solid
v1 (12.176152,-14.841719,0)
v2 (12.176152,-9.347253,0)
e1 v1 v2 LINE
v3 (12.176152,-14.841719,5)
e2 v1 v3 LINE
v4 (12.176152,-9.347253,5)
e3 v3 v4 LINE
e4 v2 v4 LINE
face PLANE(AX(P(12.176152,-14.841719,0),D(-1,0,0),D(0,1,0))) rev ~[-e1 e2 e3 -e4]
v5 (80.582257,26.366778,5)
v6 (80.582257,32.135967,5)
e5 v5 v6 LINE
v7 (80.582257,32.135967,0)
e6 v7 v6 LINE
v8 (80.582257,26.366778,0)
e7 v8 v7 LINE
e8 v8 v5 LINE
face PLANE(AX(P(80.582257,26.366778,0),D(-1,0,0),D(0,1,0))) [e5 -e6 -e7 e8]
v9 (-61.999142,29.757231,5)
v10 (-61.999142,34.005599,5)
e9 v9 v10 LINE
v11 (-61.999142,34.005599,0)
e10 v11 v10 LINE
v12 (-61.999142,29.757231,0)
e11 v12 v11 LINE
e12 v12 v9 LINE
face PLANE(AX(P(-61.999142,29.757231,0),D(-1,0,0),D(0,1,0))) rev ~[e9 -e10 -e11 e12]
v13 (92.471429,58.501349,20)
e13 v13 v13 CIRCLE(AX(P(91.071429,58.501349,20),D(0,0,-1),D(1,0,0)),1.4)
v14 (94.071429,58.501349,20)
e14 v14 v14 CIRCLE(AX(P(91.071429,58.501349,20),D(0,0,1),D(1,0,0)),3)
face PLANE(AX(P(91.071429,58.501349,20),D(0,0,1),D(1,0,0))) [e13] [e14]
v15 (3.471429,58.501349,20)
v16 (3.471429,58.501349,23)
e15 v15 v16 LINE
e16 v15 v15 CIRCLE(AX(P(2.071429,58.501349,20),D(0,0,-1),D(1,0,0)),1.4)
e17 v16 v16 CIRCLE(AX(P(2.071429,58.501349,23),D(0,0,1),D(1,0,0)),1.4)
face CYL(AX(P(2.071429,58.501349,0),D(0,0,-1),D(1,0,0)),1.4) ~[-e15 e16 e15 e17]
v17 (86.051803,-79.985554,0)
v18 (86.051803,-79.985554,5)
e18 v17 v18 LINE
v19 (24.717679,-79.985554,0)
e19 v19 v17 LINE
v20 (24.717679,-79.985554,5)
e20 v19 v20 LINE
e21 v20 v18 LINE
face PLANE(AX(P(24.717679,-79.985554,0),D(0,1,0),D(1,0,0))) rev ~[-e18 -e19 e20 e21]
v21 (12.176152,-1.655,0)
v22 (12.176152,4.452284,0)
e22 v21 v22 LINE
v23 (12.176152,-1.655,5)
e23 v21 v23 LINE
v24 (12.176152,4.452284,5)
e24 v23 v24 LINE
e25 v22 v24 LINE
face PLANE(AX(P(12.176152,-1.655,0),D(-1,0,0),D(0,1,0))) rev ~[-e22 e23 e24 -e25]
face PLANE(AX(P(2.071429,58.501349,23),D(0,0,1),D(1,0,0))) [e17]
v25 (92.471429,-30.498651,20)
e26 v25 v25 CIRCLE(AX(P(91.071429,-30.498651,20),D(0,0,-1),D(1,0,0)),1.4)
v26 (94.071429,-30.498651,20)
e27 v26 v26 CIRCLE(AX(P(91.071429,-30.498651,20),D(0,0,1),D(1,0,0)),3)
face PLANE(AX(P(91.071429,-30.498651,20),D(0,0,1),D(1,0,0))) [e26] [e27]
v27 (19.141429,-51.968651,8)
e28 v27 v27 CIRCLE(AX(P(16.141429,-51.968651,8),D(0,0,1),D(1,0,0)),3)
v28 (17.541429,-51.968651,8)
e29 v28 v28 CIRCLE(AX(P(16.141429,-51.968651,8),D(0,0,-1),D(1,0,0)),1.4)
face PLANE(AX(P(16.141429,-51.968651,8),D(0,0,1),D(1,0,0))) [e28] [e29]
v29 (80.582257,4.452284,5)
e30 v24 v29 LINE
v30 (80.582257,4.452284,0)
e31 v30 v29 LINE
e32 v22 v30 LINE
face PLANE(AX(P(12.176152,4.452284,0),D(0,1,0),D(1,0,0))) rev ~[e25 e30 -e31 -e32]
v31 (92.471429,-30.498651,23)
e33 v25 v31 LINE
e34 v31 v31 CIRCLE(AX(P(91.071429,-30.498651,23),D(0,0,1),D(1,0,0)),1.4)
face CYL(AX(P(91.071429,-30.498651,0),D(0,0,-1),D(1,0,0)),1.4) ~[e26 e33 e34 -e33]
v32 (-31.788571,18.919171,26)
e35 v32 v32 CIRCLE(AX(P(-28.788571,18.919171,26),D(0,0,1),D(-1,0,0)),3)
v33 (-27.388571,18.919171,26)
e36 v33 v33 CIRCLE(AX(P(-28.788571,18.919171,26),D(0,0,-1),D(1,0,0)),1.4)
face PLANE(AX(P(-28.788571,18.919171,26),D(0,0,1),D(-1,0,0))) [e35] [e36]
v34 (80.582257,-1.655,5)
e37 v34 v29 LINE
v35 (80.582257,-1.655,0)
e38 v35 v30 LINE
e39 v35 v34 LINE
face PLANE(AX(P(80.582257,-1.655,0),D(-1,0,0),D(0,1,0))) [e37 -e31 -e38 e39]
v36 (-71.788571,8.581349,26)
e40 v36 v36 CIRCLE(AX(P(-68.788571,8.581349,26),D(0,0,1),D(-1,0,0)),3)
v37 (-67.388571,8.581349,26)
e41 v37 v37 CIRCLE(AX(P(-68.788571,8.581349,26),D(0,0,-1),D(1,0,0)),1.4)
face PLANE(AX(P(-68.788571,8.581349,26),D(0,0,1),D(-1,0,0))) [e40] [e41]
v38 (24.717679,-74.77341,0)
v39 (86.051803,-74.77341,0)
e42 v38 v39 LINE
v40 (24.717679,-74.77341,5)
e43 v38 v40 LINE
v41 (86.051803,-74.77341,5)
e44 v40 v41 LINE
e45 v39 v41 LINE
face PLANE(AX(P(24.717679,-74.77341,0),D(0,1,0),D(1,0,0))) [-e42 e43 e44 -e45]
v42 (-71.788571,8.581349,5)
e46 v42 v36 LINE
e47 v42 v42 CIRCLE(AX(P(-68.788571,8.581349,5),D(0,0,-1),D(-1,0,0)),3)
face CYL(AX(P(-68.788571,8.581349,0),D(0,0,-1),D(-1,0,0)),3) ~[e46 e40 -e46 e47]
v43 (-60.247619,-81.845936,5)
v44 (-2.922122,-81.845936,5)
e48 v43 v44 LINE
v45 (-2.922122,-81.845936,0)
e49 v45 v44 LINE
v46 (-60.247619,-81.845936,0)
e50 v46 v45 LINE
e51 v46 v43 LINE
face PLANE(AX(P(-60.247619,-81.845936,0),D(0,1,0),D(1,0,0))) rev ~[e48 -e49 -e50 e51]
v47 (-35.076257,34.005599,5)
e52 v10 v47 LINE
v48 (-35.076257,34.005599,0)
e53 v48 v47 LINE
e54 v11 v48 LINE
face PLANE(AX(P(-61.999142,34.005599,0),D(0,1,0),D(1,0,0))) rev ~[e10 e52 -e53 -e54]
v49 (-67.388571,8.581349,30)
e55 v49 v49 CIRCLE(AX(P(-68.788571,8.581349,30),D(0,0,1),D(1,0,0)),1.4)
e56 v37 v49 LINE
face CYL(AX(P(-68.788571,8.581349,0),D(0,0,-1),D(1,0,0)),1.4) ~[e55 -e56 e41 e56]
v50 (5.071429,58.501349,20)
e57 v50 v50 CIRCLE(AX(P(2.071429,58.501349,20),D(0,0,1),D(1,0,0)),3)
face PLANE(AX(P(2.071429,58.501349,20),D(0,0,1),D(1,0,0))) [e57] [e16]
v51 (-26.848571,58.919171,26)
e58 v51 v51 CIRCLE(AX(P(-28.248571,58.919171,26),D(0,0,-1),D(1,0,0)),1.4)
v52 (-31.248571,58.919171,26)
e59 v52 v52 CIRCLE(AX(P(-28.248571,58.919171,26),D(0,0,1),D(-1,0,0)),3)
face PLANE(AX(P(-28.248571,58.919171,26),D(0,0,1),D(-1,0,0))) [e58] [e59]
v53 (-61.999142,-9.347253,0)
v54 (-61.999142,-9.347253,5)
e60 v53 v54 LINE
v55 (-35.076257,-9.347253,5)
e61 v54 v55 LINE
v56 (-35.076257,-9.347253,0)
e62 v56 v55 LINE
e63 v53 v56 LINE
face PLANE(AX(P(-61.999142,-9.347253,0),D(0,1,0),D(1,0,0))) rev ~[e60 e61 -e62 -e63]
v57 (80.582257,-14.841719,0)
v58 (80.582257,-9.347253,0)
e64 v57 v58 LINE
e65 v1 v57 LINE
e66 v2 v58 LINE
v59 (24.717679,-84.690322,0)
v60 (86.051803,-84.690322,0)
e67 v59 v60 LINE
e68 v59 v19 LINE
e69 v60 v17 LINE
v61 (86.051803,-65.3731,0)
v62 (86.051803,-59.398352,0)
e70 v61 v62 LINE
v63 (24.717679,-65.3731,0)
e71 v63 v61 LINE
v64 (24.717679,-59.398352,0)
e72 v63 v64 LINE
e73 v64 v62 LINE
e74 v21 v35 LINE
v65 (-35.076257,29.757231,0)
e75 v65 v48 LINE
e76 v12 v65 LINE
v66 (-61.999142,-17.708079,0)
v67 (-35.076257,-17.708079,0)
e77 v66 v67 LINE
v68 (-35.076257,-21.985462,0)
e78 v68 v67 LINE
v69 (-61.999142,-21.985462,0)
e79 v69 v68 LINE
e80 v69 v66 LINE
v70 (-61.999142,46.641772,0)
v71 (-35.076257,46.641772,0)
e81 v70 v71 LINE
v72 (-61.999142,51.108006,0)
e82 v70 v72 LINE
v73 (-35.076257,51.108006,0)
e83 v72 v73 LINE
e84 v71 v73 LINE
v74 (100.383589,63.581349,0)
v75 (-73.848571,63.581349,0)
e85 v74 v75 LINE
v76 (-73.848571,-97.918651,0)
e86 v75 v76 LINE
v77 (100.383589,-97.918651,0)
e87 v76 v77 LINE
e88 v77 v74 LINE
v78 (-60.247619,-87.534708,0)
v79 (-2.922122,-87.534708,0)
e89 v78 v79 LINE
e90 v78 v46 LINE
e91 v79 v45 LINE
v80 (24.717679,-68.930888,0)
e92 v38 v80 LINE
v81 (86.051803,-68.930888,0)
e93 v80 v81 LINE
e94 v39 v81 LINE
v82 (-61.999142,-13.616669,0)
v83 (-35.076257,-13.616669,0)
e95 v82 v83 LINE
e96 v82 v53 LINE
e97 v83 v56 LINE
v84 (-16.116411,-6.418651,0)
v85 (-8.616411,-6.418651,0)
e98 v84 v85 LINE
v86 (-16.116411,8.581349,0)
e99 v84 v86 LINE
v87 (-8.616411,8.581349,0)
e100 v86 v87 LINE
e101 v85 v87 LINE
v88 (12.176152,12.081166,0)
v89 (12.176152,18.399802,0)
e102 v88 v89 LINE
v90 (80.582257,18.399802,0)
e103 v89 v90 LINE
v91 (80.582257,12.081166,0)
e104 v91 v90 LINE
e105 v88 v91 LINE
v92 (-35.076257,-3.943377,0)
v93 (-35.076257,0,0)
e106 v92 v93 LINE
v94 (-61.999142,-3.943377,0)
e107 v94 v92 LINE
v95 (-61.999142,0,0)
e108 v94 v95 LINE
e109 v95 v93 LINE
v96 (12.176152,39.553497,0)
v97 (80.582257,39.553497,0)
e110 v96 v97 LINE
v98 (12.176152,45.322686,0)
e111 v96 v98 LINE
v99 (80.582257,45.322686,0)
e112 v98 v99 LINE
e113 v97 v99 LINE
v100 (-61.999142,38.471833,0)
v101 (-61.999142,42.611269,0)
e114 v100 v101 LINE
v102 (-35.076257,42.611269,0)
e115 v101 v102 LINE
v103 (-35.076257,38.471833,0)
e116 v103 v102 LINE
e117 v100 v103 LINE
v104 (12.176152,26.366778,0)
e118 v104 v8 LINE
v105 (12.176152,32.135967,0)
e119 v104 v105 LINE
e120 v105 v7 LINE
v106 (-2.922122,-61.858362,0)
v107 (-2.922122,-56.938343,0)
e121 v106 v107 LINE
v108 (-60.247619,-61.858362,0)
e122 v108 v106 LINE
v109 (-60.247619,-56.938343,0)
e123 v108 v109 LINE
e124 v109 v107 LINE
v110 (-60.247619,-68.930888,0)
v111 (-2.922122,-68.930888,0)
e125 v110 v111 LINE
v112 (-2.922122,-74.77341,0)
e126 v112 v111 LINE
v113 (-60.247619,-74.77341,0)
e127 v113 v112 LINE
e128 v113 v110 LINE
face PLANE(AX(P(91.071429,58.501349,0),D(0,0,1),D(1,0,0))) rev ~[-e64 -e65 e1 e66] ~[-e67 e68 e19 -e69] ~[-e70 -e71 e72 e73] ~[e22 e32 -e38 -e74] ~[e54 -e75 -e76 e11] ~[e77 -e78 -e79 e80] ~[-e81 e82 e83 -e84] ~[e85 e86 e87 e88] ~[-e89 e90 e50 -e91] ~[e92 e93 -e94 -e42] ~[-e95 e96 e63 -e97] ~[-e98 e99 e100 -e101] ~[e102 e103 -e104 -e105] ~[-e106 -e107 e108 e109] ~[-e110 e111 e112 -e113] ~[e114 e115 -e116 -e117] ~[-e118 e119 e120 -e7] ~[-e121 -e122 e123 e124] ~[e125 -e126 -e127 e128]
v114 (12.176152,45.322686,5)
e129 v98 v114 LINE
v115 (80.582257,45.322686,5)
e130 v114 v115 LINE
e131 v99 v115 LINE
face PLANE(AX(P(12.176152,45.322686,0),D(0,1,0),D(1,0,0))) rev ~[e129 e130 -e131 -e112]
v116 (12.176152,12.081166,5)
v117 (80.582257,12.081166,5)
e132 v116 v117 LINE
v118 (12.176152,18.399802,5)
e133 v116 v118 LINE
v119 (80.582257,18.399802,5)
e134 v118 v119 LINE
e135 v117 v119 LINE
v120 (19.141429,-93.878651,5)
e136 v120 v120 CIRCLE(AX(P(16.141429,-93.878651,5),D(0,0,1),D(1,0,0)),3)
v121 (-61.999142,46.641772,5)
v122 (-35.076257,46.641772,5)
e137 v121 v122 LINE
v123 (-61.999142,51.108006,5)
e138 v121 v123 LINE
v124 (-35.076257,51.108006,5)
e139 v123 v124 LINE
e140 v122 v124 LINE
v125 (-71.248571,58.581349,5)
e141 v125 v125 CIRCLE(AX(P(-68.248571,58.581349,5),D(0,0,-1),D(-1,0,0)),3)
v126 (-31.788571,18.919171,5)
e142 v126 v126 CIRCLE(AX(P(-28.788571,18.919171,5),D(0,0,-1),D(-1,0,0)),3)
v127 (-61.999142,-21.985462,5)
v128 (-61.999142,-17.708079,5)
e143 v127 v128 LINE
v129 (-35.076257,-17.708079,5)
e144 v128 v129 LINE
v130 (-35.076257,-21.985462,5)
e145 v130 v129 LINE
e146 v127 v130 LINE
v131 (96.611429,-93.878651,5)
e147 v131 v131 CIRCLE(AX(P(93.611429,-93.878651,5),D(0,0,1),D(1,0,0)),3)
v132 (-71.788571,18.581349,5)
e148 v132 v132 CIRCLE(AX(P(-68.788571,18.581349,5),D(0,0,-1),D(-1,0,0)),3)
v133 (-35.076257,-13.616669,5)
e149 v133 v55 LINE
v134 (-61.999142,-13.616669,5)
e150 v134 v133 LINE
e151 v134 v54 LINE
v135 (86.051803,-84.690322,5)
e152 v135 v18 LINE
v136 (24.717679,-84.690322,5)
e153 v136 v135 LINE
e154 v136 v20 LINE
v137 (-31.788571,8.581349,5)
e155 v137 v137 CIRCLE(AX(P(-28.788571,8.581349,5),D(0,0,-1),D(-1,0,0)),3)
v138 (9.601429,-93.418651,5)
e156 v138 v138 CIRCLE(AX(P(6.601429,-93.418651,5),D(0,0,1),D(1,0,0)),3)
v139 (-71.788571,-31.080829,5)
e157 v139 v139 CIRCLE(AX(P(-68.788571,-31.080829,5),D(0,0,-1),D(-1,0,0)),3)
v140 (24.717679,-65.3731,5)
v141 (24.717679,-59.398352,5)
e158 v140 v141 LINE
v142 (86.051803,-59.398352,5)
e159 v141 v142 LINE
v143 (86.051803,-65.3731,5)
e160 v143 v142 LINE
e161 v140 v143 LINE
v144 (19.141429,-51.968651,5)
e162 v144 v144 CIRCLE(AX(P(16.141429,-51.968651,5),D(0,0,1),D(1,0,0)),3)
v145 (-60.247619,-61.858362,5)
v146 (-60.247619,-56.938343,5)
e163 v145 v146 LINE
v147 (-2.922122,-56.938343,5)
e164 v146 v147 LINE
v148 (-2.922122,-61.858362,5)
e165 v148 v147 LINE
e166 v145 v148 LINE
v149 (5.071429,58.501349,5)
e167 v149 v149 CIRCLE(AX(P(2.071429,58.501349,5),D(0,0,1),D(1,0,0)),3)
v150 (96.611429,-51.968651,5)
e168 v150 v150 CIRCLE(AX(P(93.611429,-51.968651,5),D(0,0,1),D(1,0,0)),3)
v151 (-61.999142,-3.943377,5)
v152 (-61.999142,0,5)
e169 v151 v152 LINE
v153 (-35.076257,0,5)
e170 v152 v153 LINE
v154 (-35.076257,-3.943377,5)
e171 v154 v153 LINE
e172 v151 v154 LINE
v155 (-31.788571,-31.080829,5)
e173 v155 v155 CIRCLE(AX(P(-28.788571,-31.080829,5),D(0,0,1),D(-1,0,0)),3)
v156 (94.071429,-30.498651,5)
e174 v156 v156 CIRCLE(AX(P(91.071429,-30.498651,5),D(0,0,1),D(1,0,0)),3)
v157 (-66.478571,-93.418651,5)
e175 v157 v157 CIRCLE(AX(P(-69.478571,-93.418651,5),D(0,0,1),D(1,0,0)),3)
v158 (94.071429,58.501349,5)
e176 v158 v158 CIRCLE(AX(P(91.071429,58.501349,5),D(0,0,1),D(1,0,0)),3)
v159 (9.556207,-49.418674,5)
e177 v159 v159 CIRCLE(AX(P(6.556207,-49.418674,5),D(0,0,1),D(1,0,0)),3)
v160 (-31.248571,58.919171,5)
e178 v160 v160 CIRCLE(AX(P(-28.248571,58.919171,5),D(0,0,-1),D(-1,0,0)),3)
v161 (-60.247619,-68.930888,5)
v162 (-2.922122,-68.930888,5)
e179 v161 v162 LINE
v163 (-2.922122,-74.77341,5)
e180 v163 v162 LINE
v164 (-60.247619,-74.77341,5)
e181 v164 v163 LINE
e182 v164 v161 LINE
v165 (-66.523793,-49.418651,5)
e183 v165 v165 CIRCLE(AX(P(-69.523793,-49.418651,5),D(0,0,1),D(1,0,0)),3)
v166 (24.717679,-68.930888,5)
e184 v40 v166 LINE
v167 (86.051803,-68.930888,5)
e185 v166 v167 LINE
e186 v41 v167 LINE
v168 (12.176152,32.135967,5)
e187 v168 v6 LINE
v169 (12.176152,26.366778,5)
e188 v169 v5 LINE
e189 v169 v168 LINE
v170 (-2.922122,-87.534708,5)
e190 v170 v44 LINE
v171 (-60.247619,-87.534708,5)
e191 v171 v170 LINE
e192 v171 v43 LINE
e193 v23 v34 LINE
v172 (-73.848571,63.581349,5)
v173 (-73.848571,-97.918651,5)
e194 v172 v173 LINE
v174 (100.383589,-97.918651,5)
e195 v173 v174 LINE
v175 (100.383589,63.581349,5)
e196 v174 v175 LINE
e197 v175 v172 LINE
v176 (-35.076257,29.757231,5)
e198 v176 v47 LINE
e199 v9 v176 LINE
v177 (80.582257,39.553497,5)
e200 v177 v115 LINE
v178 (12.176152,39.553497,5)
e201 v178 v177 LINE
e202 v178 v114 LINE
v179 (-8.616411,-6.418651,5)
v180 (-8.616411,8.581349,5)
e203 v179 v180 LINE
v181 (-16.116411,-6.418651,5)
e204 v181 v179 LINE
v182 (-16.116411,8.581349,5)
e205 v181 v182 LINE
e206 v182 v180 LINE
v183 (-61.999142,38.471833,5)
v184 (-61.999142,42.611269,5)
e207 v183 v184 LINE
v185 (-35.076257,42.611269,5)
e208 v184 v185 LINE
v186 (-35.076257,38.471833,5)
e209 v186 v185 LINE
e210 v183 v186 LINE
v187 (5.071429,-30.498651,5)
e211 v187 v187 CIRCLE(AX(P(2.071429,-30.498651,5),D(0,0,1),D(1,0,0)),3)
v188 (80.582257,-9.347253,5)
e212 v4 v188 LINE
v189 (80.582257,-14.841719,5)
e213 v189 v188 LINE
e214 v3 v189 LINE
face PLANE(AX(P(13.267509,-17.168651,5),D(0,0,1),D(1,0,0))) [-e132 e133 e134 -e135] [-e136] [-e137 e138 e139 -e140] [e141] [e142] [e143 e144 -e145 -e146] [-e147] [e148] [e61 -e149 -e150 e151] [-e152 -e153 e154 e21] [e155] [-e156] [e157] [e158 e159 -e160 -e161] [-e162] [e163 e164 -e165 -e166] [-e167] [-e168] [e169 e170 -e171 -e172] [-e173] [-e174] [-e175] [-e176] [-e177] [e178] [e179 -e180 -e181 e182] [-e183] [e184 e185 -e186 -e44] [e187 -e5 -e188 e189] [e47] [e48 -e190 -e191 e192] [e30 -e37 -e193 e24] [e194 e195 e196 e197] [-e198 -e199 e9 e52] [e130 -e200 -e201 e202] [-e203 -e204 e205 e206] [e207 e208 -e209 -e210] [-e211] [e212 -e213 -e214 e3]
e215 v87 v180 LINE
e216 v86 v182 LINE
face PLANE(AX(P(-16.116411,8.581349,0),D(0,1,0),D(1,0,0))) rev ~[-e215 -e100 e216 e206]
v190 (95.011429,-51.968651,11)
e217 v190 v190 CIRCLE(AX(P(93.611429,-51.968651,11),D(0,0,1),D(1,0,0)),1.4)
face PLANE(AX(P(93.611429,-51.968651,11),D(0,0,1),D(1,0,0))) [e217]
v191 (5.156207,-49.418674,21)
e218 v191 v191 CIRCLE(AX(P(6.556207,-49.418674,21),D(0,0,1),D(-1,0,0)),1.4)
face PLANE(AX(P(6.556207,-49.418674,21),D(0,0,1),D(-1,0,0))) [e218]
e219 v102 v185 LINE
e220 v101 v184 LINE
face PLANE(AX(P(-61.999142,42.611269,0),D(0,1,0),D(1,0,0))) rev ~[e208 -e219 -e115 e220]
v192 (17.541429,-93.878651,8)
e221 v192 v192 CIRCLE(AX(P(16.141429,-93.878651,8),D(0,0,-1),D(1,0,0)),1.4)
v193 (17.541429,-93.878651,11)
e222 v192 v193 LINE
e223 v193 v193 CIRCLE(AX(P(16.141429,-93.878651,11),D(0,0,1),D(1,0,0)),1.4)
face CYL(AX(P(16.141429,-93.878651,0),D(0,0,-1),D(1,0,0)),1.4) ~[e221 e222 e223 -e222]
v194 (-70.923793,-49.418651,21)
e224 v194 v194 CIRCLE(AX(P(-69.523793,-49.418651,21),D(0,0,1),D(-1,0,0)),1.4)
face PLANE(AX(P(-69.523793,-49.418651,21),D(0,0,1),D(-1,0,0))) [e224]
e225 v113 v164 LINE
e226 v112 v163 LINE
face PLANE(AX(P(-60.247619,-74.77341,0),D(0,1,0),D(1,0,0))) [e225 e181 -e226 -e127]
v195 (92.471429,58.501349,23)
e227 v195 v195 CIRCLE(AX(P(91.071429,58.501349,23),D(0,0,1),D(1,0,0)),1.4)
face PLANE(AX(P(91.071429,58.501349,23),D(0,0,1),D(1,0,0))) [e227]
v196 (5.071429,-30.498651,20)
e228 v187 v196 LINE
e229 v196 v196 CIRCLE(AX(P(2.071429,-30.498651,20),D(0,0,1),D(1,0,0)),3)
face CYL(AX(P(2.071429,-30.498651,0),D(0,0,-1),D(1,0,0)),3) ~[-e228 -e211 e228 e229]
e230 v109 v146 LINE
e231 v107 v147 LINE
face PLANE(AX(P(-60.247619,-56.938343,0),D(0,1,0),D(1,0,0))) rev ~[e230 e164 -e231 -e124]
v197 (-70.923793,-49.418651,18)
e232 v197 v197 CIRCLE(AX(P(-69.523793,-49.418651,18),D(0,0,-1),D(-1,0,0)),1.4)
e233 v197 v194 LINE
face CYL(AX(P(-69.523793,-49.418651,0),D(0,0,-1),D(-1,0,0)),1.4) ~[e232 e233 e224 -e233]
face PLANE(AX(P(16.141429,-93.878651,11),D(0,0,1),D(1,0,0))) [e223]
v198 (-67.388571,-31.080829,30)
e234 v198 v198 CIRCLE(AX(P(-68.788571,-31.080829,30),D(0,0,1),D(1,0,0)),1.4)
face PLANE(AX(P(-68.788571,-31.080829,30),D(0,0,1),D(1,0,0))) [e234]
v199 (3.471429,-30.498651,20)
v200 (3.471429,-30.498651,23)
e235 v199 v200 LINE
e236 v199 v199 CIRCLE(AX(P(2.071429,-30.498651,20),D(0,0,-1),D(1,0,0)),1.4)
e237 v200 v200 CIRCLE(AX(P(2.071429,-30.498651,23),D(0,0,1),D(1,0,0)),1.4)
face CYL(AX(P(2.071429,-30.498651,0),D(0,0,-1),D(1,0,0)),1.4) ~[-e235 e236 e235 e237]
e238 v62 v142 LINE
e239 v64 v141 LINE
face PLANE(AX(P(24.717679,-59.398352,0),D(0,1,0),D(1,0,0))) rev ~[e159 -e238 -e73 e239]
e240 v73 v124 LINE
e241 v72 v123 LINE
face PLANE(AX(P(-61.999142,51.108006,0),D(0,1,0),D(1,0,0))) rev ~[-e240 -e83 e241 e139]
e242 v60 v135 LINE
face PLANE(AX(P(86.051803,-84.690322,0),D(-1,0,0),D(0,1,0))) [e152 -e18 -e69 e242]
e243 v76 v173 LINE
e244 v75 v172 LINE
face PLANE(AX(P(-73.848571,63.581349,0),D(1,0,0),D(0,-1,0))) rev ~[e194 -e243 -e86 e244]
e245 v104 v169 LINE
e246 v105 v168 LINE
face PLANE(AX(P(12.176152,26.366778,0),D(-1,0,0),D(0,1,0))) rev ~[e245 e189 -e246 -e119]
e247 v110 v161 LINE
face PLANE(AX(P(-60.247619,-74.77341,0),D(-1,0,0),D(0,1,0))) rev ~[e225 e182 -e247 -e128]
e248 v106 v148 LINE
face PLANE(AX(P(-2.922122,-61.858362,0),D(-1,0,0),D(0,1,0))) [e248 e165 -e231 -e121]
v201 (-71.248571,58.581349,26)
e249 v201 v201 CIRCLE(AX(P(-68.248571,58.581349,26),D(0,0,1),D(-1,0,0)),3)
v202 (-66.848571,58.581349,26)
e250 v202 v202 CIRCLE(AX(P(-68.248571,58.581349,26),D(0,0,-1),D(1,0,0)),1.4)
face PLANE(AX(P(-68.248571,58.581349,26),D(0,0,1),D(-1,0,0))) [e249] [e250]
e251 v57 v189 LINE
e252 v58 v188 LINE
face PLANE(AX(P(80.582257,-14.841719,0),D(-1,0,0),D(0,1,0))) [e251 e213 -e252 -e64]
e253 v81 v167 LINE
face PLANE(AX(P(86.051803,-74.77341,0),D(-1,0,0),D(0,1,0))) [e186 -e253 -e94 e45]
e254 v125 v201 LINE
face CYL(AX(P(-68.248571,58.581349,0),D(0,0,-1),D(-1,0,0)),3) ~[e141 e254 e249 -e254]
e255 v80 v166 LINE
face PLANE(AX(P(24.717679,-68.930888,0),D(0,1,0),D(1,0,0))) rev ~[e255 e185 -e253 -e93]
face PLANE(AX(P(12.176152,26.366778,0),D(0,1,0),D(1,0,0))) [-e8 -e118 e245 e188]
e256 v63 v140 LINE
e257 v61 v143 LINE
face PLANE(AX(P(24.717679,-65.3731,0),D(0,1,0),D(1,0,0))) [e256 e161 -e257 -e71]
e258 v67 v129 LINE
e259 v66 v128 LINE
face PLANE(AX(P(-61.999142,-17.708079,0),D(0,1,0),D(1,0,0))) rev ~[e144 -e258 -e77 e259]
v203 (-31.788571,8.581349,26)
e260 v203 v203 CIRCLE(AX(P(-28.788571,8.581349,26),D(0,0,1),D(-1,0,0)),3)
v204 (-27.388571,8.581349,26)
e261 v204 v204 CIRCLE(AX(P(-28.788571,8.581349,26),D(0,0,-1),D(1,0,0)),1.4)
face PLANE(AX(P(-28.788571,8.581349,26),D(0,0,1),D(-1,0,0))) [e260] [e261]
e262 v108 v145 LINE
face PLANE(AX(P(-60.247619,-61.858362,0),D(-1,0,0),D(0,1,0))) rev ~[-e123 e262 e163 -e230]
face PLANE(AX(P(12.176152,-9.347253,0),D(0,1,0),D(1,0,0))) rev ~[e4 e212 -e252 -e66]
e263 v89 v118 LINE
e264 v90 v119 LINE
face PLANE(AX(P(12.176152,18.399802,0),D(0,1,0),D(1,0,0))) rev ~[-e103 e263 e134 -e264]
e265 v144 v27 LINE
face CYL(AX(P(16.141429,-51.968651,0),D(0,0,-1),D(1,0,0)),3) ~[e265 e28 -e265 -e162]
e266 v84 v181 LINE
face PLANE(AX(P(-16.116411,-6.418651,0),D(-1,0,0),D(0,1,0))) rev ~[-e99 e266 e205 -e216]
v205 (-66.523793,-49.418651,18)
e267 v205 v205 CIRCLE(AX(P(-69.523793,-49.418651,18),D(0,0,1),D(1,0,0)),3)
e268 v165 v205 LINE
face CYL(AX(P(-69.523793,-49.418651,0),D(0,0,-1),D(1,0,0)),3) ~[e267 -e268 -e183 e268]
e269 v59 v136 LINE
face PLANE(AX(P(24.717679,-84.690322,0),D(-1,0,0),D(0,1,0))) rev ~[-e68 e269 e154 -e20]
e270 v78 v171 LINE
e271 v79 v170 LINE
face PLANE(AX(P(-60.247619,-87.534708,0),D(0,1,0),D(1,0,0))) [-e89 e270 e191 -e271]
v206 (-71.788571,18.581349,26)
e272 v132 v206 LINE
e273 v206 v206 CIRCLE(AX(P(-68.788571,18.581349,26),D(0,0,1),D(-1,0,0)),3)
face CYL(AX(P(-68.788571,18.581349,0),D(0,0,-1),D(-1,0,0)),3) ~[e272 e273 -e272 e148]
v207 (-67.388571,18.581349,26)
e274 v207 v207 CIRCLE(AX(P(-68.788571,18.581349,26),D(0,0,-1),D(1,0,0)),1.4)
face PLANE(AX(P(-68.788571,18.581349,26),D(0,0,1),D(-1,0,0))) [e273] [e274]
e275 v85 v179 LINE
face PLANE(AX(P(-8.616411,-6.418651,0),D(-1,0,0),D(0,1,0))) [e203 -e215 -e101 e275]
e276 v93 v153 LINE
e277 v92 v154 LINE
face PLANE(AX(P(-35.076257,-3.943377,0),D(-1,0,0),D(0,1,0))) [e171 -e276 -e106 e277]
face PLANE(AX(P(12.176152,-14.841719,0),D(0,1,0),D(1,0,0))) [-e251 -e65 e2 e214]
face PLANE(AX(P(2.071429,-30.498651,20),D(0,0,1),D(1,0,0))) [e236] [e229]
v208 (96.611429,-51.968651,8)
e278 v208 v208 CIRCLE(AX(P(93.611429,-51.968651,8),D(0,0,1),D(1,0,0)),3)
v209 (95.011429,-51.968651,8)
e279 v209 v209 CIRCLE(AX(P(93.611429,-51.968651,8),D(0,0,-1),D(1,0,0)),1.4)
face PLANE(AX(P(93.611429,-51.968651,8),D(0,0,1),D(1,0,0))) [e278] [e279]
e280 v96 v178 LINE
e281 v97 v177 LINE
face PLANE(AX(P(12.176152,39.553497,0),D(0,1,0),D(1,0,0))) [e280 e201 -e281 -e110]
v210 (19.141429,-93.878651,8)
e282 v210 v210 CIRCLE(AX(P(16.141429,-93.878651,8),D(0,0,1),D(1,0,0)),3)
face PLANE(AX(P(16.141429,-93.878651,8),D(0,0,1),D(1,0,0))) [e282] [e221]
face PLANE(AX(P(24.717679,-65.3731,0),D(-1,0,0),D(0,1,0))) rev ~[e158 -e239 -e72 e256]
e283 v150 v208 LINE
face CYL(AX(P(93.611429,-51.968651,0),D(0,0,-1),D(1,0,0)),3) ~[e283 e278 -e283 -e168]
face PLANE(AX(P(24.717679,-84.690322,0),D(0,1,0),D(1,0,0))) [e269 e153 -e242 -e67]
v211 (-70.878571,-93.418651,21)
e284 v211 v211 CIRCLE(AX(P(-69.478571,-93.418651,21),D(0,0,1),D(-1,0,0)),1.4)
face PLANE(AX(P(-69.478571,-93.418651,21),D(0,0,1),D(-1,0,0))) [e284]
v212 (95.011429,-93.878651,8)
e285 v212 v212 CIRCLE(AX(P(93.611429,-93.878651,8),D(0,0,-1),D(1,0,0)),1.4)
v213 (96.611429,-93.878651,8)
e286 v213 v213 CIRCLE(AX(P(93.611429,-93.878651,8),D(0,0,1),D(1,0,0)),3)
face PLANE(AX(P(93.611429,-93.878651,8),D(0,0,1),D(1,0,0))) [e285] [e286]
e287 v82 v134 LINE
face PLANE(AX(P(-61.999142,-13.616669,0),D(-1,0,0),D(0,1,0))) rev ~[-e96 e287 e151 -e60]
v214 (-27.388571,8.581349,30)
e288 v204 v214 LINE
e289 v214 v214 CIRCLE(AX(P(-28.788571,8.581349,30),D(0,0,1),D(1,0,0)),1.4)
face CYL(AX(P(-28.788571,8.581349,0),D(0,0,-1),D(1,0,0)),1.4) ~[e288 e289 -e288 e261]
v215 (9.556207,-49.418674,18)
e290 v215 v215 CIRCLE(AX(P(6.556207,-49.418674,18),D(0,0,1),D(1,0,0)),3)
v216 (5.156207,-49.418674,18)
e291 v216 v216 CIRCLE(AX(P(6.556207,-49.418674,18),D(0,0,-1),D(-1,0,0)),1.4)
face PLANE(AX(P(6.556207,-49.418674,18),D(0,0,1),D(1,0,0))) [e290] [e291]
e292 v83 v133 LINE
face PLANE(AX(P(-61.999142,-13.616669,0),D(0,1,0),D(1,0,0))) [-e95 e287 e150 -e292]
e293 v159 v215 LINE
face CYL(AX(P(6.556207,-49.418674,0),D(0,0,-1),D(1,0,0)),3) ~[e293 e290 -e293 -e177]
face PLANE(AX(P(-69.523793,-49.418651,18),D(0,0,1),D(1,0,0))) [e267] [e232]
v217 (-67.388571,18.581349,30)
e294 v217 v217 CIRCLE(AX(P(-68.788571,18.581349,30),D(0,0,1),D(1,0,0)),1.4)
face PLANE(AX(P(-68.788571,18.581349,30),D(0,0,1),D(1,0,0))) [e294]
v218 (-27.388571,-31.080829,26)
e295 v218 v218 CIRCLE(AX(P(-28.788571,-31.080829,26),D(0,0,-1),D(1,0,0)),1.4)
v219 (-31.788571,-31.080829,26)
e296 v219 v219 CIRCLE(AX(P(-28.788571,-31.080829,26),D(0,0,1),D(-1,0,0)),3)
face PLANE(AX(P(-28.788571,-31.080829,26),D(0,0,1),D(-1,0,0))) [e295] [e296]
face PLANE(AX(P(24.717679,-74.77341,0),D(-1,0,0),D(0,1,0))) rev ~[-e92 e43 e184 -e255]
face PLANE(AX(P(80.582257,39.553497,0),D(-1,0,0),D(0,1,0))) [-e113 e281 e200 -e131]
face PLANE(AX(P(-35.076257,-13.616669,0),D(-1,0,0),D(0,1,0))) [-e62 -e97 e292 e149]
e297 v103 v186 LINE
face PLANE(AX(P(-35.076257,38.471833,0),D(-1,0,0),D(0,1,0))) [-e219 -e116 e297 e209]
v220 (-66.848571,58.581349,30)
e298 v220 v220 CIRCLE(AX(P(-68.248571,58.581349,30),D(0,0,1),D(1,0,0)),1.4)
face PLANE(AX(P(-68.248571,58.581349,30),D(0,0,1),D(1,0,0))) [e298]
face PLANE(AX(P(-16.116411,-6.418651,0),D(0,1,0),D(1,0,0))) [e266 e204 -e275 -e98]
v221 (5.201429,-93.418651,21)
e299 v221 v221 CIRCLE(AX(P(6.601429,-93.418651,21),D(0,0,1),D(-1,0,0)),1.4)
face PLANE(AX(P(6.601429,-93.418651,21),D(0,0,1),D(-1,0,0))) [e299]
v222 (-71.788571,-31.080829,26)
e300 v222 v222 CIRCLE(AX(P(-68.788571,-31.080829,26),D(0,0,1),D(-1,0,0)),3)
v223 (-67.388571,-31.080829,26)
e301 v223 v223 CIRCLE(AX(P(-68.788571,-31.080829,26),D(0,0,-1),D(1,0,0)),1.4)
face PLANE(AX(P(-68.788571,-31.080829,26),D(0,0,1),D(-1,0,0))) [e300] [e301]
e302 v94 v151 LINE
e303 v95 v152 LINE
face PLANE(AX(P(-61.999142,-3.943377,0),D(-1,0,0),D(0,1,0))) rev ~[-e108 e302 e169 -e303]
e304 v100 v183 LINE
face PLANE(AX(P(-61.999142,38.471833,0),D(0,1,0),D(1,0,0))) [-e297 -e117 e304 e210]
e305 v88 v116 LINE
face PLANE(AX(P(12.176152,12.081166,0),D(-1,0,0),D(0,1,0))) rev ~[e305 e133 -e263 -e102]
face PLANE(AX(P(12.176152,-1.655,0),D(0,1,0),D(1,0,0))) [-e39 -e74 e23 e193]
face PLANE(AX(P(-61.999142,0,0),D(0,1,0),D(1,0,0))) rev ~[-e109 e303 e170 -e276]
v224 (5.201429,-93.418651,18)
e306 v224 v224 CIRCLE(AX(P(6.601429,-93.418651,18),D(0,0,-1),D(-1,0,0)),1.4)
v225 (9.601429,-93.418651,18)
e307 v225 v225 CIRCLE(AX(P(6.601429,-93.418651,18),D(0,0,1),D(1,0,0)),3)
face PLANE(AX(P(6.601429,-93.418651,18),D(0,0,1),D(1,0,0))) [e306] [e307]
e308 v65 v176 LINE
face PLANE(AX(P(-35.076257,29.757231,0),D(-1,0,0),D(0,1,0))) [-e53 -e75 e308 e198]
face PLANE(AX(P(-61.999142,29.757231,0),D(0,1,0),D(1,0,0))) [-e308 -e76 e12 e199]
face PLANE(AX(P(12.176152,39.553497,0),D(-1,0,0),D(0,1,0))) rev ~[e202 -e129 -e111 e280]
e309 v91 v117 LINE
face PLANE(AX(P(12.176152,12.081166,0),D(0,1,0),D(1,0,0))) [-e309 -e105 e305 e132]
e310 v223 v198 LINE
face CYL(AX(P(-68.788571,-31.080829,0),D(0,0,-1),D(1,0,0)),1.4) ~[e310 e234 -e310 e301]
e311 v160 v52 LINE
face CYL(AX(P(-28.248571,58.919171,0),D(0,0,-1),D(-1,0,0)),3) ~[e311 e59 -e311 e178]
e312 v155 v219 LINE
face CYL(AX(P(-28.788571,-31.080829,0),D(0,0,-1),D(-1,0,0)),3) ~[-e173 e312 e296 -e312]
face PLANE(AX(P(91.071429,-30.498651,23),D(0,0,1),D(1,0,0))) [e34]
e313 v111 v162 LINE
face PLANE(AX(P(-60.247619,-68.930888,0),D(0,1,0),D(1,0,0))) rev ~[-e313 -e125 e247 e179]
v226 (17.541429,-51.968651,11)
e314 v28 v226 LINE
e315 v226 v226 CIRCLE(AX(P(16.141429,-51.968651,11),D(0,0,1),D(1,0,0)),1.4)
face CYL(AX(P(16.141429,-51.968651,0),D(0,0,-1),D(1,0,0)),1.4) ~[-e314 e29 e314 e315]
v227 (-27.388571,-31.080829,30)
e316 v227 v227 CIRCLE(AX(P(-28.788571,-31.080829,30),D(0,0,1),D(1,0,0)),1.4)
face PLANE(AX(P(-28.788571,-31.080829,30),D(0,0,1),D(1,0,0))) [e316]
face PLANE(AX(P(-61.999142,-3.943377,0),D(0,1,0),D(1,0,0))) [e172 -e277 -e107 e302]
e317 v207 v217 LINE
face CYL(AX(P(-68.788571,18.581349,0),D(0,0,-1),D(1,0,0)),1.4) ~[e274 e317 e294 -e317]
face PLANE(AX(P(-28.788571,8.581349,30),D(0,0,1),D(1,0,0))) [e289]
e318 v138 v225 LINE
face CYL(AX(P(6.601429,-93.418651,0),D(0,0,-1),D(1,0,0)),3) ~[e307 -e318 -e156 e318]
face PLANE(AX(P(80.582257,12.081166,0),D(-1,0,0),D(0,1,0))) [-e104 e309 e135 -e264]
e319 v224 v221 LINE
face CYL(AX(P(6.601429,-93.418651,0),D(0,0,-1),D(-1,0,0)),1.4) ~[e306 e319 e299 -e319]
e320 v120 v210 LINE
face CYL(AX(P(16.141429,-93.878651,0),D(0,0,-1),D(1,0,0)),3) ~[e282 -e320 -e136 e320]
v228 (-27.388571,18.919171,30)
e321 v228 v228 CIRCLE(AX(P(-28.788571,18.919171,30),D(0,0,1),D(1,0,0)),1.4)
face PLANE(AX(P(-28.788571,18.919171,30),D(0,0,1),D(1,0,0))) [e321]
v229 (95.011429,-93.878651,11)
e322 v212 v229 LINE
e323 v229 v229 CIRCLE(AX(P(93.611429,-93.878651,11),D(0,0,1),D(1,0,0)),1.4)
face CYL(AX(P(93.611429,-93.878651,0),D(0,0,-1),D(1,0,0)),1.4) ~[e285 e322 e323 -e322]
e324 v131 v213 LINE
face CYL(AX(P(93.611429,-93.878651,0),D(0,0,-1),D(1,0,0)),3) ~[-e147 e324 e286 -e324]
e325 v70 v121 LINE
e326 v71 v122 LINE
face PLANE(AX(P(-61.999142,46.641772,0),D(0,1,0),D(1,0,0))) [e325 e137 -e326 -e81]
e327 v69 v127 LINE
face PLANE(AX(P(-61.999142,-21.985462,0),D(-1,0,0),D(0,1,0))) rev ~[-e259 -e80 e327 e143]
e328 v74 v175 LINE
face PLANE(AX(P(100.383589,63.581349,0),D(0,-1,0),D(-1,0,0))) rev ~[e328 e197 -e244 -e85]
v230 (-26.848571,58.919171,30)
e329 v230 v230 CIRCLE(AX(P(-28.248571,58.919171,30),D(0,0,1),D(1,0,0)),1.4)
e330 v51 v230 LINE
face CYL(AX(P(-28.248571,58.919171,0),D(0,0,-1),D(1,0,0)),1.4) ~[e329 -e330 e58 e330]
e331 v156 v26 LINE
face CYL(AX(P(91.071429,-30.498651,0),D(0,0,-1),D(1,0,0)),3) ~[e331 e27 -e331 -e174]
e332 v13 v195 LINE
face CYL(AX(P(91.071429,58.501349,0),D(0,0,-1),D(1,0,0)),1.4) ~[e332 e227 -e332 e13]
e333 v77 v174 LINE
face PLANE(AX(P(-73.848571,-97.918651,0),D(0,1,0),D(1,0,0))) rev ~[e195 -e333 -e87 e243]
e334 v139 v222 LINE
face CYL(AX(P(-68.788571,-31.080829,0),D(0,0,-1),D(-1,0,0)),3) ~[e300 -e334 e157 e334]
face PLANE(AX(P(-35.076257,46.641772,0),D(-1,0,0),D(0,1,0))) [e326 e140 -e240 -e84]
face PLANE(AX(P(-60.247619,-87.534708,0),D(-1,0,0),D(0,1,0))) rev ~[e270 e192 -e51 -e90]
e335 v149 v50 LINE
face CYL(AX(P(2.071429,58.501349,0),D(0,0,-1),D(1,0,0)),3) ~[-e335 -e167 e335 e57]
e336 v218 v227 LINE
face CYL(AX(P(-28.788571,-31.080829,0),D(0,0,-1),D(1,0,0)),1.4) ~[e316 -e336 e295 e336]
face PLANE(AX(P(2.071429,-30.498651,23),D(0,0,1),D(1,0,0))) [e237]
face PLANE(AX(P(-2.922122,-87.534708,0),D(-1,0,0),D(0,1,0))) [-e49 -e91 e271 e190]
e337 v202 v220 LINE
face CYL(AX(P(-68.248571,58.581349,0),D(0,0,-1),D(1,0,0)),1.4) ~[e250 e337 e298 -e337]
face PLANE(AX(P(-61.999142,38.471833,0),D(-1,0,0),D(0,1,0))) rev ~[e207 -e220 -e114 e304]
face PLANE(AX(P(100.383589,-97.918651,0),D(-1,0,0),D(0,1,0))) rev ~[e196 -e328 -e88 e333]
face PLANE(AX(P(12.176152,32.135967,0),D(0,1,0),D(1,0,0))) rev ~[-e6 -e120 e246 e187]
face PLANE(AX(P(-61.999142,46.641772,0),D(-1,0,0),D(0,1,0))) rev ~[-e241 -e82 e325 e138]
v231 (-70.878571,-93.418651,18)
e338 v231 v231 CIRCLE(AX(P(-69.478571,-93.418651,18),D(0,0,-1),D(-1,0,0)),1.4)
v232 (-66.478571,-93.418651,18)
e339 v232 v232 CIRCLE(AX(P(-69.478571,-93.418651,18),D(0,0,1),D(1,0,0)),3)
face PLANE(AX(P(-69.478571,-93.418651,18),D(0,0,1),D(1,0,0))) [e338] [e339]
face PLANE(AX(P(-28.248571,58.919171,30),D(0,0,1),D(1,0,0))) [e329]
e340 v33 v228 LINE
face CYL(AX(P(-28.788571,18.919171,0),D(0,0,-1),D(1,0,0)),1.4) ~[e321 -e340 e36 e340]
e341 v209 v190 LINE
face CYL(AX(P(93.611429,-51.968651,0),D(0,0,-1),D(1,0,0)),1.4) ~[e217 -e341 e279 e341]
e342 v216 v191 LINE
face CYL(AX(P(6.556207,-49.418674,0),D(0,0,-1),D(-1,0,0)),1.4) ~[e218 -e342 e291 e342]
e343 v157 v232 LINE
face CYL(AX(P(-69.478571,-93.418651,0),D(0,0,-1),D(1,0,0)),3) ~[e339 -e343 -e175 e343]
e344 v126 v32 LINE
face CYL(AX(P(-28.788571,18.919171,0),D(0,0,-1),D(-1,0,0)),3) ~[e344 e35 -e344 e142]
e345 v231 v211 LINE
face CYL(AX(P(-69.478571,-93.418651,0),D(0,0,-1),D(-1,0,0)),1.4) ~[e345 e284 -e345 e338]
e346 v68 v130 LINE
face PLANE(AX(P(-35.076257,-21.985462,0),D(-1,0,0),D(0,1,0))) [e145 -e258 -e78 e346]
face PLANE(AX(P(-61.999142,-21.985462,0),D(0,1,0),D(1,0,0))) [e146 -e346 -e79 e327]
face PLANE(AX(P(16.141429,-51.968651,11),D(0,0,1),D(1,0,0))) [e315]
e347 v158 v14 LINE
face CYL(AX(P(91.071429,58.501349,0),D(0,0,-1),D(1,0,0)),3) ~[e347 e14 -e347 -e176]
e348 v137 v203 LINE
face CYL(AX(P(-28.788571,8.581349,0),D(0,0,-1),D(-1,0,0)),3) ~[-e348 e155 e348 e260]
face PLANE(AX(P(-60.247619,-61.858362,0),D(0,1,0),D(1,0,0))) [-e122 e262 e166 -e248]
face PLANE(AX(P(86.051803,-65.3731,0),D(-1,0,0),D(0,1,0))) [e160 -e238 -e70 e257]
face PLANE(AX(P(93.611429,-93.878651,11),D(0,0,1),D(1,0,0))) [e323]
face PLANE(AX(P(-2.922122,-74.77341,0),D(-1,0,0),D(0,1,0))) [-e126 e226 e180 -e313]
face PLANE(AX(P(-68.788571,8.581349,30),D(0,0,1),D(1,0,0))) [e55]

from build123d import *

# Parameters (mm, degrees)
SKETCH1_R            = 3
SKETCH1_W            = 57.32549759
SKETCH1_H            = 5.688771297
SKETCH1_H_2          = 5.842521873
SKETCH1_H_3          = 4.92001842
SKETCH1_W_2          = 26.922884564
SKETCH1_H_4          = 4.277382824
SKETCH1_W_3          = 61.334124095
SKETCH1_H_5          = 4.704767614
SKETCH1_H_6          = 5.974747368
SKETCH1_W_4          = 68.406104656
SKETCH1_H_7          = 5.494466237
SKETCH1_H_8          = 4.269416466
SKETCH1_H_9          = 3.943377121
SKETCH1_W_5          = 7.5
SKETCH1_H_10         = 15
SKETCH1_H_11         = 4.248368433
SKETCH1_H_12         = 4.139435909
SKETCH1_H_13         = 4.46623348
SKETCH1_H_14         = 6.107283804
SKETCH1_H_15         = 6.318636173
SKETCH1_H_16         = 5.769189549
SKETCH1_H_17         = 5.76918955
BOSS_EXTRUDE3_DEPTH  = 5
SKETCH1_6_R          = 3
BOSS_EXTRUDE4_DEPTH  = 26
SKETCH1_8_R          = 3
BOSS_EXTRUDE5_DEPTH  = 18
SKETCH1_10_R         = 3
BOSS_EXTRUDE6_DEPTH  = 8
SKETCH1_11_R         = 3
BOSS_EXTRUDE7_DEPTH  = 20
SKETCH1_12_R         = 1.4
BOSS_EXTRUDE8_DEPTH  = 30
SKETCH1_13_R         = 1.4
BOSS_EXTRUDE9_DEPTH  = 21
SKETCH1_15_R         = 1.4
BOSS_EXTRUDE10_DEPTH = 11
SKETCH1_16_R         = 1.4
BOSS_EXTRUDE11_DEPTH = 23


with BuildPart() as part:
    # Sketch1 → Boss-Extrude3 (new body)
    with BuildSketch(Plane.XY):
        Polygon((-20.116410516, 63.581349206), (-73.848571429, 63.581349206), (-73.848571429, -97.918650794), (100.383589484, -97.918650794), (100.383589484, -60.85880545), (100.383589484, -37.85880545), (100.383589484, 63.581349206), (2.883589484, 63.581349206), align=None)
        with Locations((-69.478571429, -93.418650794)):
            Circle(SKETCH1_R, mode=Mode.SUBTRACT)
        with Locations((-31.584870297, -84.690322091)):
            Rectangle(SKETCH1_W, SKETCH1_H, mode=Mode.SUBTRACT)
        with Locations((-31.584870297, -71.852149028)):
            Rectangle(SKETCH1_W, SKETCH1_H_2, mode=Mode.SUBTRACT)
        with Locations((-31.584870297, -59.398352403)):
            Rectangle(SKETCH1_W, SKETCH1_H_3, mode=Mode.SUBTRACT)
        with Locations((6.601428571, -93.418650794)):
            Circle(SKETCH1_R, mode=Mode.SUBTRACT)
        with Locations((16.141428571, -93.878650794)):
            Circle(SKETCH1_R, mode=Mode.SUBTRACT)
        with Locations((-69.523792896, -49.418650794)):
            Circle(SKETCH1_R, mode=Mode.SUBTRACT)
        with Locations((-68.788571429, -31.080828543)):
            Circle(SKETCH1_R, mode=Mode.SUBTRACT)
        with Locations((-28.788571429, -31.080828543)):
            Circle(SKETCH1_R, mode=Mode.SUBTRACT)
        with Locations((-48.537699589, -19.846770176)):
            Rectangle(SKETCH1_W_2, SKETCH1_H_4, mode=Mode.SUBTRACT)
        with Locations((6.556207104, -49.418674032)):
            Circle(SKETCH1_R, mode=Mode.SUBTRACT)
        with Locations((16.141428571, -51.968650794)):
            Circle(SKETCH1_R, mode=Mode.SUBTRACT)
        with Locations((2.071428571, -30.498650794)):
            Circle(SKETCH1_R, mode=Mode.SUBTRACT)
        with Locations((55.384741084, -82.337938284)):
            Rectangle(SKETCH1_W_3, SKETCH1_H_5, mode=Mode.SUBTRACT)
        with Locations((55.384741084, -71.852149028)):
            Rectangle(SKETCH1_W_3, SKETCH1_H_2, mode=Mode.SUBTRACT)
        with Locations((55.384741084, -62.385726087)):
            Rectangle(SKETCH1_W_3, SKETCH1_H_6, mode=Mode.SUBTRACT)
        with Locations((93.611428571, -93.878650794)):
            Circle(SKETCH1_R, mode=Mode.SUBTRACT)
        with Locations((46.379204663, -12.094485759)):
            Rectangle(SKETCH1_W_4, SKETCH1_H_7, mode=Mode.SUBTRACT)
        with Locations((93.611428571, -51.968650794)):
            Circle(SKETCH1_R, mode=Mode.SUBTRACT)
        with Locations((91.071428571, -30.498650794)):
            Circle(SKETCH1_R, mode=Mode.SUBTRACT)
        with Locations((-68.788571429, 8.581349206)):
            Circle(SKETCH1_R, mode=Mode.SUBTRACT)
        with Locations((-48.537699589, -11.481960873)):
            Rectangle(SKETCH1_W_2, SKETCH1_H_8, mode=Mode.SUBTRACT)
        with Locations((-48.537699589, -1.971688561)):
            Rectangle(SKETCH1_W_2, SKETCH1_H_9, mode=Mode.SUBTRACT)
        with Locations((-28.788571429, 8.581349206)):
            Circle(SKETCH1_R, mode=Mode.SUBTRACT)
        with Locations((-68.788571429, 18.581349206)):
            Circle(SKETCH1_R, mode=Mode.SUBTRACT)
        with Locations((-28.788571429, 18.91917133)):
            Circle(SKETCH1_R, mode=Mode.SUBTRACT)
        with Locations((-12.366410516, 1.081349206)):
            Rectangle(SKETCH1_W_5, SKETCH1_H_10, mode=Mode.SUBTRACT)
        with Locations((-48.537699589, 31.881415248)):
            Rectangle(SKETCH1_W_2, SKETCH1_H_11, mode=Mode.SUBTRACT)
        with Locations((-48.537699589, 40.541550899)):
            Rectangle(SKETCH1_W_2, SKETCH1_H_12, mode=Mode.SUBTRACT)
        with Locations((-48.537699589, 48.874888978)):
            Rectangle(SKETCH1_W_2, SKETCH1_H_13, mode=Mode.SUBTRACT)
        with Locations((-68.248571429, 58.581349206)):
            Circle(SKETCH1_R, mode=Mode.SUBTRACT)
        with Locations((-28.248571429, 58.91917133)):
            Circle(SKETCH1_R, mode=Mode.SUBTRACT)
        with Locations((2.071428571, 58.501349206)):
            Circle(SKETCH1_R, mode=Mode.SUBTRACT)
        with Locations((46.379204663, 1.398641994)):
            Rectangle(SKETCH1_W_4, SKETCH1_H_14, mode=Mode.SUBTRACT)
        with Locations((46.379204663, 15.240483772)):
            Rectangle(SKETCH1_W_4, SKETCH1_H_15, mode=Mode.SUBTRACT)
        with Locations((46.379204663, 29.251372679)):
            Rectangle(SKETCH1_W_4, SKETCH1_H_16, mode=Mode.SUBTRACT)
        with Locations((46.379204663, 42.438091648)):
            Rectangle(SKETCH1_W_4, SKETCH1_H_17, mode=Mode.SUBTRACT)
        with Locations((91.071428571, 58.501349206)):
            Circle(SKETCH1_R, mode=Mode.SUBTRACT)
    extrude(amount=BOSS_EXTRUDE3_DEPTH)

    # Sketch1<6> → Boss-Extrude4 (add)
    with BuildSketch(Plane.XY):
        with Locations((-28.788571429, -31.080828543)):
            Circle(SKETCH1_6_R)
        with Locations((-68.788571429, -31.080828543)):
            Circle(SKETCH1_6_R)
        with Locations((-68.788571429, 8.581349206)):
            Circle(SKETCH1_6_R)
        with Locations((-28.788571429, 8.581349206)):
            Circle(SKETCH1_6_R)
        with Locations((-28.788571429, 18.91917133)):
            Circle(SKETCH1_6_R)
        with Locations((-68.788571429, 18.581349206)):
            Circle(SKETCH1_6_R)
        with Locations((-68.248571429, 58.581349206)):
            Circle(SKETCH1_6_R)
        with Locations((-28.248571429, 58.91917133)):
            Circle(SKETCH1_6_R)
    extrude(amount=BOSS_EXTRUDE4_DEPTH)

    # Sketch1<8> → Boss-Extrude5 (add)
    with BuildSketch(Plane.XY):
        with Locations((6.601428571, -93.418650794)):
            Circle(SKETCH1_8_R)
        with Locations((6.556207104, -49.418674032)):
            Circle(SKETCH1_8_R)
        with Locations((-69.523792896, -49.418650794)):
            Circle(SKETCH1_8_R)
        with Locations((-69.478571429, -93.418650794)):
            Circle(SKETCH1_8_R)
    extrude(amount=BOSS_EXTRUDE5_DEPTH)

    # Sketch1<10> → Boss-Extrude6 (add)
    with BuildSketch(Plane.XY):
        with Locations((93.611428571, -93.878650794)):
            Circle(SKETCH1_10_R)
        with Locations((93.611428571, -51.968650794)):
            Circle(SKETCH1_10_R)
        with Locations((16.141428571, -51.968650794)):
            Circle(SKETCH1_10_R)
        with Locations((16.141428571, -93.878650794)):
            Circle(SKETCH1_10_R)
    extrude(amount=BOSS_EXTRUDE6_DEPTH)

    # Sketch1<11> → Boss-Extrude7 (add)
    with BuildSketch(Plane.XY):
        with Locations((91.071428571, 58.501349206)):
            Circle(SKETCH1_11_R)
        with Locations((2.071428571, 58.501349206)):
            Circle(SKETCH1_11_R)
        with Locations((2.071428571, -30.498650794)):
            Circle(SKETCH1_11_R)
        with Locations((91.071428571, -30.498650794)):
            Circle(SKETCH1_11_R)
    extrude(amount=BOSS_EXTRUDE7_DEPTH)

    # Sketch1<12> → Boss-Extrude8 (add)
    with BuildSketch(Plane.XY):
        with Locations((-28.788571429, -31.080828543)):
            Circle(SKETCH1_12_R)
        with Locations((-68.788571429, -31.080828543)):
            Circle(SKETCH1_12_R)
        with Locations((-68.788571429, 8.581349206)):
            Circle(SKETCH1_12_R)
        with Locations((-68.788571429, 18.581349206)):
            Circle(SKETCH1_12_R)
        with Locations((-28.788571429, 18.91917133)):
            Circle(SKETCH1_12_R)
        with Locations((-68.248571429, 58.581349206)):
            Circle(SKETCH1_12_R)
        with Locations((-28.248571429, 58.91917133)):
            Circle(SKETCH1_12_R)
        with Locations((-28.788571429, 8.581349206)):
            Circle(SKETCH1_12_R)
    extrude(amount=BOSS_EXTRUDE8_DEPTH)

    # Sketch1<13> → Boss-Extrude9 (add)
    with BuildSketch(Plane.XY):
        with Locations((6.556207104, -49.418674032)):
            Circle(SKETCH1_13_R)
        with Locations((6.601428571, -93.418650794)):
            Circle(SKETCH1_13_R)
        with Locations((-69.523792896, -49.418650794)):
            Circle(SKETCH1_13_R)
        with Locations((-69.478571429, -93.418650794)):
            Circle(SKETCH1_13_R)
    extrude(amount=BOSS_EXTRUDE9_DEPTH)

    # Sketch1<15> → Boss-Extrude10 (add)
    with BuildSketch(Plane.XY):
        with Locations((93.611428571, -51.968650794)):
            Circle(SKETCH1_15_R)
        with Locations((93.611428571, -93.878650794)):
            Circle(SKETCH1_15_R)
        with Locations((16.141428571, -93.878650794)):
            Circle(SKETCH1_15_R)
        with Locations((16.141428571, -51.968650794)):
            Circle(SKETCH1_15_R)
    extrude(amount=BOSS_EXTRUDE10_DEPTH)

    # Sketch1<16> → Boss-Extrude11 (add)
    with BuildSketch(Plane.XY):
        with Locations((91.071428571, 58.501349206)):
            Circle(SKETCH1_16_R)
        with Locations((91.071428571, -30.498650794)):
            Circle(SKETCH1_16_R)
        with Locations((2.071428571, -30.498650794)):
            Circle(SKETCH1_16_R)
        with Locations((2.071428571, 58.501349206)):
            Circle(SKETCH1_16_R)
    extrude(amount=BOSS_EXTRUDE11_DEPTH)


solid = part.part
